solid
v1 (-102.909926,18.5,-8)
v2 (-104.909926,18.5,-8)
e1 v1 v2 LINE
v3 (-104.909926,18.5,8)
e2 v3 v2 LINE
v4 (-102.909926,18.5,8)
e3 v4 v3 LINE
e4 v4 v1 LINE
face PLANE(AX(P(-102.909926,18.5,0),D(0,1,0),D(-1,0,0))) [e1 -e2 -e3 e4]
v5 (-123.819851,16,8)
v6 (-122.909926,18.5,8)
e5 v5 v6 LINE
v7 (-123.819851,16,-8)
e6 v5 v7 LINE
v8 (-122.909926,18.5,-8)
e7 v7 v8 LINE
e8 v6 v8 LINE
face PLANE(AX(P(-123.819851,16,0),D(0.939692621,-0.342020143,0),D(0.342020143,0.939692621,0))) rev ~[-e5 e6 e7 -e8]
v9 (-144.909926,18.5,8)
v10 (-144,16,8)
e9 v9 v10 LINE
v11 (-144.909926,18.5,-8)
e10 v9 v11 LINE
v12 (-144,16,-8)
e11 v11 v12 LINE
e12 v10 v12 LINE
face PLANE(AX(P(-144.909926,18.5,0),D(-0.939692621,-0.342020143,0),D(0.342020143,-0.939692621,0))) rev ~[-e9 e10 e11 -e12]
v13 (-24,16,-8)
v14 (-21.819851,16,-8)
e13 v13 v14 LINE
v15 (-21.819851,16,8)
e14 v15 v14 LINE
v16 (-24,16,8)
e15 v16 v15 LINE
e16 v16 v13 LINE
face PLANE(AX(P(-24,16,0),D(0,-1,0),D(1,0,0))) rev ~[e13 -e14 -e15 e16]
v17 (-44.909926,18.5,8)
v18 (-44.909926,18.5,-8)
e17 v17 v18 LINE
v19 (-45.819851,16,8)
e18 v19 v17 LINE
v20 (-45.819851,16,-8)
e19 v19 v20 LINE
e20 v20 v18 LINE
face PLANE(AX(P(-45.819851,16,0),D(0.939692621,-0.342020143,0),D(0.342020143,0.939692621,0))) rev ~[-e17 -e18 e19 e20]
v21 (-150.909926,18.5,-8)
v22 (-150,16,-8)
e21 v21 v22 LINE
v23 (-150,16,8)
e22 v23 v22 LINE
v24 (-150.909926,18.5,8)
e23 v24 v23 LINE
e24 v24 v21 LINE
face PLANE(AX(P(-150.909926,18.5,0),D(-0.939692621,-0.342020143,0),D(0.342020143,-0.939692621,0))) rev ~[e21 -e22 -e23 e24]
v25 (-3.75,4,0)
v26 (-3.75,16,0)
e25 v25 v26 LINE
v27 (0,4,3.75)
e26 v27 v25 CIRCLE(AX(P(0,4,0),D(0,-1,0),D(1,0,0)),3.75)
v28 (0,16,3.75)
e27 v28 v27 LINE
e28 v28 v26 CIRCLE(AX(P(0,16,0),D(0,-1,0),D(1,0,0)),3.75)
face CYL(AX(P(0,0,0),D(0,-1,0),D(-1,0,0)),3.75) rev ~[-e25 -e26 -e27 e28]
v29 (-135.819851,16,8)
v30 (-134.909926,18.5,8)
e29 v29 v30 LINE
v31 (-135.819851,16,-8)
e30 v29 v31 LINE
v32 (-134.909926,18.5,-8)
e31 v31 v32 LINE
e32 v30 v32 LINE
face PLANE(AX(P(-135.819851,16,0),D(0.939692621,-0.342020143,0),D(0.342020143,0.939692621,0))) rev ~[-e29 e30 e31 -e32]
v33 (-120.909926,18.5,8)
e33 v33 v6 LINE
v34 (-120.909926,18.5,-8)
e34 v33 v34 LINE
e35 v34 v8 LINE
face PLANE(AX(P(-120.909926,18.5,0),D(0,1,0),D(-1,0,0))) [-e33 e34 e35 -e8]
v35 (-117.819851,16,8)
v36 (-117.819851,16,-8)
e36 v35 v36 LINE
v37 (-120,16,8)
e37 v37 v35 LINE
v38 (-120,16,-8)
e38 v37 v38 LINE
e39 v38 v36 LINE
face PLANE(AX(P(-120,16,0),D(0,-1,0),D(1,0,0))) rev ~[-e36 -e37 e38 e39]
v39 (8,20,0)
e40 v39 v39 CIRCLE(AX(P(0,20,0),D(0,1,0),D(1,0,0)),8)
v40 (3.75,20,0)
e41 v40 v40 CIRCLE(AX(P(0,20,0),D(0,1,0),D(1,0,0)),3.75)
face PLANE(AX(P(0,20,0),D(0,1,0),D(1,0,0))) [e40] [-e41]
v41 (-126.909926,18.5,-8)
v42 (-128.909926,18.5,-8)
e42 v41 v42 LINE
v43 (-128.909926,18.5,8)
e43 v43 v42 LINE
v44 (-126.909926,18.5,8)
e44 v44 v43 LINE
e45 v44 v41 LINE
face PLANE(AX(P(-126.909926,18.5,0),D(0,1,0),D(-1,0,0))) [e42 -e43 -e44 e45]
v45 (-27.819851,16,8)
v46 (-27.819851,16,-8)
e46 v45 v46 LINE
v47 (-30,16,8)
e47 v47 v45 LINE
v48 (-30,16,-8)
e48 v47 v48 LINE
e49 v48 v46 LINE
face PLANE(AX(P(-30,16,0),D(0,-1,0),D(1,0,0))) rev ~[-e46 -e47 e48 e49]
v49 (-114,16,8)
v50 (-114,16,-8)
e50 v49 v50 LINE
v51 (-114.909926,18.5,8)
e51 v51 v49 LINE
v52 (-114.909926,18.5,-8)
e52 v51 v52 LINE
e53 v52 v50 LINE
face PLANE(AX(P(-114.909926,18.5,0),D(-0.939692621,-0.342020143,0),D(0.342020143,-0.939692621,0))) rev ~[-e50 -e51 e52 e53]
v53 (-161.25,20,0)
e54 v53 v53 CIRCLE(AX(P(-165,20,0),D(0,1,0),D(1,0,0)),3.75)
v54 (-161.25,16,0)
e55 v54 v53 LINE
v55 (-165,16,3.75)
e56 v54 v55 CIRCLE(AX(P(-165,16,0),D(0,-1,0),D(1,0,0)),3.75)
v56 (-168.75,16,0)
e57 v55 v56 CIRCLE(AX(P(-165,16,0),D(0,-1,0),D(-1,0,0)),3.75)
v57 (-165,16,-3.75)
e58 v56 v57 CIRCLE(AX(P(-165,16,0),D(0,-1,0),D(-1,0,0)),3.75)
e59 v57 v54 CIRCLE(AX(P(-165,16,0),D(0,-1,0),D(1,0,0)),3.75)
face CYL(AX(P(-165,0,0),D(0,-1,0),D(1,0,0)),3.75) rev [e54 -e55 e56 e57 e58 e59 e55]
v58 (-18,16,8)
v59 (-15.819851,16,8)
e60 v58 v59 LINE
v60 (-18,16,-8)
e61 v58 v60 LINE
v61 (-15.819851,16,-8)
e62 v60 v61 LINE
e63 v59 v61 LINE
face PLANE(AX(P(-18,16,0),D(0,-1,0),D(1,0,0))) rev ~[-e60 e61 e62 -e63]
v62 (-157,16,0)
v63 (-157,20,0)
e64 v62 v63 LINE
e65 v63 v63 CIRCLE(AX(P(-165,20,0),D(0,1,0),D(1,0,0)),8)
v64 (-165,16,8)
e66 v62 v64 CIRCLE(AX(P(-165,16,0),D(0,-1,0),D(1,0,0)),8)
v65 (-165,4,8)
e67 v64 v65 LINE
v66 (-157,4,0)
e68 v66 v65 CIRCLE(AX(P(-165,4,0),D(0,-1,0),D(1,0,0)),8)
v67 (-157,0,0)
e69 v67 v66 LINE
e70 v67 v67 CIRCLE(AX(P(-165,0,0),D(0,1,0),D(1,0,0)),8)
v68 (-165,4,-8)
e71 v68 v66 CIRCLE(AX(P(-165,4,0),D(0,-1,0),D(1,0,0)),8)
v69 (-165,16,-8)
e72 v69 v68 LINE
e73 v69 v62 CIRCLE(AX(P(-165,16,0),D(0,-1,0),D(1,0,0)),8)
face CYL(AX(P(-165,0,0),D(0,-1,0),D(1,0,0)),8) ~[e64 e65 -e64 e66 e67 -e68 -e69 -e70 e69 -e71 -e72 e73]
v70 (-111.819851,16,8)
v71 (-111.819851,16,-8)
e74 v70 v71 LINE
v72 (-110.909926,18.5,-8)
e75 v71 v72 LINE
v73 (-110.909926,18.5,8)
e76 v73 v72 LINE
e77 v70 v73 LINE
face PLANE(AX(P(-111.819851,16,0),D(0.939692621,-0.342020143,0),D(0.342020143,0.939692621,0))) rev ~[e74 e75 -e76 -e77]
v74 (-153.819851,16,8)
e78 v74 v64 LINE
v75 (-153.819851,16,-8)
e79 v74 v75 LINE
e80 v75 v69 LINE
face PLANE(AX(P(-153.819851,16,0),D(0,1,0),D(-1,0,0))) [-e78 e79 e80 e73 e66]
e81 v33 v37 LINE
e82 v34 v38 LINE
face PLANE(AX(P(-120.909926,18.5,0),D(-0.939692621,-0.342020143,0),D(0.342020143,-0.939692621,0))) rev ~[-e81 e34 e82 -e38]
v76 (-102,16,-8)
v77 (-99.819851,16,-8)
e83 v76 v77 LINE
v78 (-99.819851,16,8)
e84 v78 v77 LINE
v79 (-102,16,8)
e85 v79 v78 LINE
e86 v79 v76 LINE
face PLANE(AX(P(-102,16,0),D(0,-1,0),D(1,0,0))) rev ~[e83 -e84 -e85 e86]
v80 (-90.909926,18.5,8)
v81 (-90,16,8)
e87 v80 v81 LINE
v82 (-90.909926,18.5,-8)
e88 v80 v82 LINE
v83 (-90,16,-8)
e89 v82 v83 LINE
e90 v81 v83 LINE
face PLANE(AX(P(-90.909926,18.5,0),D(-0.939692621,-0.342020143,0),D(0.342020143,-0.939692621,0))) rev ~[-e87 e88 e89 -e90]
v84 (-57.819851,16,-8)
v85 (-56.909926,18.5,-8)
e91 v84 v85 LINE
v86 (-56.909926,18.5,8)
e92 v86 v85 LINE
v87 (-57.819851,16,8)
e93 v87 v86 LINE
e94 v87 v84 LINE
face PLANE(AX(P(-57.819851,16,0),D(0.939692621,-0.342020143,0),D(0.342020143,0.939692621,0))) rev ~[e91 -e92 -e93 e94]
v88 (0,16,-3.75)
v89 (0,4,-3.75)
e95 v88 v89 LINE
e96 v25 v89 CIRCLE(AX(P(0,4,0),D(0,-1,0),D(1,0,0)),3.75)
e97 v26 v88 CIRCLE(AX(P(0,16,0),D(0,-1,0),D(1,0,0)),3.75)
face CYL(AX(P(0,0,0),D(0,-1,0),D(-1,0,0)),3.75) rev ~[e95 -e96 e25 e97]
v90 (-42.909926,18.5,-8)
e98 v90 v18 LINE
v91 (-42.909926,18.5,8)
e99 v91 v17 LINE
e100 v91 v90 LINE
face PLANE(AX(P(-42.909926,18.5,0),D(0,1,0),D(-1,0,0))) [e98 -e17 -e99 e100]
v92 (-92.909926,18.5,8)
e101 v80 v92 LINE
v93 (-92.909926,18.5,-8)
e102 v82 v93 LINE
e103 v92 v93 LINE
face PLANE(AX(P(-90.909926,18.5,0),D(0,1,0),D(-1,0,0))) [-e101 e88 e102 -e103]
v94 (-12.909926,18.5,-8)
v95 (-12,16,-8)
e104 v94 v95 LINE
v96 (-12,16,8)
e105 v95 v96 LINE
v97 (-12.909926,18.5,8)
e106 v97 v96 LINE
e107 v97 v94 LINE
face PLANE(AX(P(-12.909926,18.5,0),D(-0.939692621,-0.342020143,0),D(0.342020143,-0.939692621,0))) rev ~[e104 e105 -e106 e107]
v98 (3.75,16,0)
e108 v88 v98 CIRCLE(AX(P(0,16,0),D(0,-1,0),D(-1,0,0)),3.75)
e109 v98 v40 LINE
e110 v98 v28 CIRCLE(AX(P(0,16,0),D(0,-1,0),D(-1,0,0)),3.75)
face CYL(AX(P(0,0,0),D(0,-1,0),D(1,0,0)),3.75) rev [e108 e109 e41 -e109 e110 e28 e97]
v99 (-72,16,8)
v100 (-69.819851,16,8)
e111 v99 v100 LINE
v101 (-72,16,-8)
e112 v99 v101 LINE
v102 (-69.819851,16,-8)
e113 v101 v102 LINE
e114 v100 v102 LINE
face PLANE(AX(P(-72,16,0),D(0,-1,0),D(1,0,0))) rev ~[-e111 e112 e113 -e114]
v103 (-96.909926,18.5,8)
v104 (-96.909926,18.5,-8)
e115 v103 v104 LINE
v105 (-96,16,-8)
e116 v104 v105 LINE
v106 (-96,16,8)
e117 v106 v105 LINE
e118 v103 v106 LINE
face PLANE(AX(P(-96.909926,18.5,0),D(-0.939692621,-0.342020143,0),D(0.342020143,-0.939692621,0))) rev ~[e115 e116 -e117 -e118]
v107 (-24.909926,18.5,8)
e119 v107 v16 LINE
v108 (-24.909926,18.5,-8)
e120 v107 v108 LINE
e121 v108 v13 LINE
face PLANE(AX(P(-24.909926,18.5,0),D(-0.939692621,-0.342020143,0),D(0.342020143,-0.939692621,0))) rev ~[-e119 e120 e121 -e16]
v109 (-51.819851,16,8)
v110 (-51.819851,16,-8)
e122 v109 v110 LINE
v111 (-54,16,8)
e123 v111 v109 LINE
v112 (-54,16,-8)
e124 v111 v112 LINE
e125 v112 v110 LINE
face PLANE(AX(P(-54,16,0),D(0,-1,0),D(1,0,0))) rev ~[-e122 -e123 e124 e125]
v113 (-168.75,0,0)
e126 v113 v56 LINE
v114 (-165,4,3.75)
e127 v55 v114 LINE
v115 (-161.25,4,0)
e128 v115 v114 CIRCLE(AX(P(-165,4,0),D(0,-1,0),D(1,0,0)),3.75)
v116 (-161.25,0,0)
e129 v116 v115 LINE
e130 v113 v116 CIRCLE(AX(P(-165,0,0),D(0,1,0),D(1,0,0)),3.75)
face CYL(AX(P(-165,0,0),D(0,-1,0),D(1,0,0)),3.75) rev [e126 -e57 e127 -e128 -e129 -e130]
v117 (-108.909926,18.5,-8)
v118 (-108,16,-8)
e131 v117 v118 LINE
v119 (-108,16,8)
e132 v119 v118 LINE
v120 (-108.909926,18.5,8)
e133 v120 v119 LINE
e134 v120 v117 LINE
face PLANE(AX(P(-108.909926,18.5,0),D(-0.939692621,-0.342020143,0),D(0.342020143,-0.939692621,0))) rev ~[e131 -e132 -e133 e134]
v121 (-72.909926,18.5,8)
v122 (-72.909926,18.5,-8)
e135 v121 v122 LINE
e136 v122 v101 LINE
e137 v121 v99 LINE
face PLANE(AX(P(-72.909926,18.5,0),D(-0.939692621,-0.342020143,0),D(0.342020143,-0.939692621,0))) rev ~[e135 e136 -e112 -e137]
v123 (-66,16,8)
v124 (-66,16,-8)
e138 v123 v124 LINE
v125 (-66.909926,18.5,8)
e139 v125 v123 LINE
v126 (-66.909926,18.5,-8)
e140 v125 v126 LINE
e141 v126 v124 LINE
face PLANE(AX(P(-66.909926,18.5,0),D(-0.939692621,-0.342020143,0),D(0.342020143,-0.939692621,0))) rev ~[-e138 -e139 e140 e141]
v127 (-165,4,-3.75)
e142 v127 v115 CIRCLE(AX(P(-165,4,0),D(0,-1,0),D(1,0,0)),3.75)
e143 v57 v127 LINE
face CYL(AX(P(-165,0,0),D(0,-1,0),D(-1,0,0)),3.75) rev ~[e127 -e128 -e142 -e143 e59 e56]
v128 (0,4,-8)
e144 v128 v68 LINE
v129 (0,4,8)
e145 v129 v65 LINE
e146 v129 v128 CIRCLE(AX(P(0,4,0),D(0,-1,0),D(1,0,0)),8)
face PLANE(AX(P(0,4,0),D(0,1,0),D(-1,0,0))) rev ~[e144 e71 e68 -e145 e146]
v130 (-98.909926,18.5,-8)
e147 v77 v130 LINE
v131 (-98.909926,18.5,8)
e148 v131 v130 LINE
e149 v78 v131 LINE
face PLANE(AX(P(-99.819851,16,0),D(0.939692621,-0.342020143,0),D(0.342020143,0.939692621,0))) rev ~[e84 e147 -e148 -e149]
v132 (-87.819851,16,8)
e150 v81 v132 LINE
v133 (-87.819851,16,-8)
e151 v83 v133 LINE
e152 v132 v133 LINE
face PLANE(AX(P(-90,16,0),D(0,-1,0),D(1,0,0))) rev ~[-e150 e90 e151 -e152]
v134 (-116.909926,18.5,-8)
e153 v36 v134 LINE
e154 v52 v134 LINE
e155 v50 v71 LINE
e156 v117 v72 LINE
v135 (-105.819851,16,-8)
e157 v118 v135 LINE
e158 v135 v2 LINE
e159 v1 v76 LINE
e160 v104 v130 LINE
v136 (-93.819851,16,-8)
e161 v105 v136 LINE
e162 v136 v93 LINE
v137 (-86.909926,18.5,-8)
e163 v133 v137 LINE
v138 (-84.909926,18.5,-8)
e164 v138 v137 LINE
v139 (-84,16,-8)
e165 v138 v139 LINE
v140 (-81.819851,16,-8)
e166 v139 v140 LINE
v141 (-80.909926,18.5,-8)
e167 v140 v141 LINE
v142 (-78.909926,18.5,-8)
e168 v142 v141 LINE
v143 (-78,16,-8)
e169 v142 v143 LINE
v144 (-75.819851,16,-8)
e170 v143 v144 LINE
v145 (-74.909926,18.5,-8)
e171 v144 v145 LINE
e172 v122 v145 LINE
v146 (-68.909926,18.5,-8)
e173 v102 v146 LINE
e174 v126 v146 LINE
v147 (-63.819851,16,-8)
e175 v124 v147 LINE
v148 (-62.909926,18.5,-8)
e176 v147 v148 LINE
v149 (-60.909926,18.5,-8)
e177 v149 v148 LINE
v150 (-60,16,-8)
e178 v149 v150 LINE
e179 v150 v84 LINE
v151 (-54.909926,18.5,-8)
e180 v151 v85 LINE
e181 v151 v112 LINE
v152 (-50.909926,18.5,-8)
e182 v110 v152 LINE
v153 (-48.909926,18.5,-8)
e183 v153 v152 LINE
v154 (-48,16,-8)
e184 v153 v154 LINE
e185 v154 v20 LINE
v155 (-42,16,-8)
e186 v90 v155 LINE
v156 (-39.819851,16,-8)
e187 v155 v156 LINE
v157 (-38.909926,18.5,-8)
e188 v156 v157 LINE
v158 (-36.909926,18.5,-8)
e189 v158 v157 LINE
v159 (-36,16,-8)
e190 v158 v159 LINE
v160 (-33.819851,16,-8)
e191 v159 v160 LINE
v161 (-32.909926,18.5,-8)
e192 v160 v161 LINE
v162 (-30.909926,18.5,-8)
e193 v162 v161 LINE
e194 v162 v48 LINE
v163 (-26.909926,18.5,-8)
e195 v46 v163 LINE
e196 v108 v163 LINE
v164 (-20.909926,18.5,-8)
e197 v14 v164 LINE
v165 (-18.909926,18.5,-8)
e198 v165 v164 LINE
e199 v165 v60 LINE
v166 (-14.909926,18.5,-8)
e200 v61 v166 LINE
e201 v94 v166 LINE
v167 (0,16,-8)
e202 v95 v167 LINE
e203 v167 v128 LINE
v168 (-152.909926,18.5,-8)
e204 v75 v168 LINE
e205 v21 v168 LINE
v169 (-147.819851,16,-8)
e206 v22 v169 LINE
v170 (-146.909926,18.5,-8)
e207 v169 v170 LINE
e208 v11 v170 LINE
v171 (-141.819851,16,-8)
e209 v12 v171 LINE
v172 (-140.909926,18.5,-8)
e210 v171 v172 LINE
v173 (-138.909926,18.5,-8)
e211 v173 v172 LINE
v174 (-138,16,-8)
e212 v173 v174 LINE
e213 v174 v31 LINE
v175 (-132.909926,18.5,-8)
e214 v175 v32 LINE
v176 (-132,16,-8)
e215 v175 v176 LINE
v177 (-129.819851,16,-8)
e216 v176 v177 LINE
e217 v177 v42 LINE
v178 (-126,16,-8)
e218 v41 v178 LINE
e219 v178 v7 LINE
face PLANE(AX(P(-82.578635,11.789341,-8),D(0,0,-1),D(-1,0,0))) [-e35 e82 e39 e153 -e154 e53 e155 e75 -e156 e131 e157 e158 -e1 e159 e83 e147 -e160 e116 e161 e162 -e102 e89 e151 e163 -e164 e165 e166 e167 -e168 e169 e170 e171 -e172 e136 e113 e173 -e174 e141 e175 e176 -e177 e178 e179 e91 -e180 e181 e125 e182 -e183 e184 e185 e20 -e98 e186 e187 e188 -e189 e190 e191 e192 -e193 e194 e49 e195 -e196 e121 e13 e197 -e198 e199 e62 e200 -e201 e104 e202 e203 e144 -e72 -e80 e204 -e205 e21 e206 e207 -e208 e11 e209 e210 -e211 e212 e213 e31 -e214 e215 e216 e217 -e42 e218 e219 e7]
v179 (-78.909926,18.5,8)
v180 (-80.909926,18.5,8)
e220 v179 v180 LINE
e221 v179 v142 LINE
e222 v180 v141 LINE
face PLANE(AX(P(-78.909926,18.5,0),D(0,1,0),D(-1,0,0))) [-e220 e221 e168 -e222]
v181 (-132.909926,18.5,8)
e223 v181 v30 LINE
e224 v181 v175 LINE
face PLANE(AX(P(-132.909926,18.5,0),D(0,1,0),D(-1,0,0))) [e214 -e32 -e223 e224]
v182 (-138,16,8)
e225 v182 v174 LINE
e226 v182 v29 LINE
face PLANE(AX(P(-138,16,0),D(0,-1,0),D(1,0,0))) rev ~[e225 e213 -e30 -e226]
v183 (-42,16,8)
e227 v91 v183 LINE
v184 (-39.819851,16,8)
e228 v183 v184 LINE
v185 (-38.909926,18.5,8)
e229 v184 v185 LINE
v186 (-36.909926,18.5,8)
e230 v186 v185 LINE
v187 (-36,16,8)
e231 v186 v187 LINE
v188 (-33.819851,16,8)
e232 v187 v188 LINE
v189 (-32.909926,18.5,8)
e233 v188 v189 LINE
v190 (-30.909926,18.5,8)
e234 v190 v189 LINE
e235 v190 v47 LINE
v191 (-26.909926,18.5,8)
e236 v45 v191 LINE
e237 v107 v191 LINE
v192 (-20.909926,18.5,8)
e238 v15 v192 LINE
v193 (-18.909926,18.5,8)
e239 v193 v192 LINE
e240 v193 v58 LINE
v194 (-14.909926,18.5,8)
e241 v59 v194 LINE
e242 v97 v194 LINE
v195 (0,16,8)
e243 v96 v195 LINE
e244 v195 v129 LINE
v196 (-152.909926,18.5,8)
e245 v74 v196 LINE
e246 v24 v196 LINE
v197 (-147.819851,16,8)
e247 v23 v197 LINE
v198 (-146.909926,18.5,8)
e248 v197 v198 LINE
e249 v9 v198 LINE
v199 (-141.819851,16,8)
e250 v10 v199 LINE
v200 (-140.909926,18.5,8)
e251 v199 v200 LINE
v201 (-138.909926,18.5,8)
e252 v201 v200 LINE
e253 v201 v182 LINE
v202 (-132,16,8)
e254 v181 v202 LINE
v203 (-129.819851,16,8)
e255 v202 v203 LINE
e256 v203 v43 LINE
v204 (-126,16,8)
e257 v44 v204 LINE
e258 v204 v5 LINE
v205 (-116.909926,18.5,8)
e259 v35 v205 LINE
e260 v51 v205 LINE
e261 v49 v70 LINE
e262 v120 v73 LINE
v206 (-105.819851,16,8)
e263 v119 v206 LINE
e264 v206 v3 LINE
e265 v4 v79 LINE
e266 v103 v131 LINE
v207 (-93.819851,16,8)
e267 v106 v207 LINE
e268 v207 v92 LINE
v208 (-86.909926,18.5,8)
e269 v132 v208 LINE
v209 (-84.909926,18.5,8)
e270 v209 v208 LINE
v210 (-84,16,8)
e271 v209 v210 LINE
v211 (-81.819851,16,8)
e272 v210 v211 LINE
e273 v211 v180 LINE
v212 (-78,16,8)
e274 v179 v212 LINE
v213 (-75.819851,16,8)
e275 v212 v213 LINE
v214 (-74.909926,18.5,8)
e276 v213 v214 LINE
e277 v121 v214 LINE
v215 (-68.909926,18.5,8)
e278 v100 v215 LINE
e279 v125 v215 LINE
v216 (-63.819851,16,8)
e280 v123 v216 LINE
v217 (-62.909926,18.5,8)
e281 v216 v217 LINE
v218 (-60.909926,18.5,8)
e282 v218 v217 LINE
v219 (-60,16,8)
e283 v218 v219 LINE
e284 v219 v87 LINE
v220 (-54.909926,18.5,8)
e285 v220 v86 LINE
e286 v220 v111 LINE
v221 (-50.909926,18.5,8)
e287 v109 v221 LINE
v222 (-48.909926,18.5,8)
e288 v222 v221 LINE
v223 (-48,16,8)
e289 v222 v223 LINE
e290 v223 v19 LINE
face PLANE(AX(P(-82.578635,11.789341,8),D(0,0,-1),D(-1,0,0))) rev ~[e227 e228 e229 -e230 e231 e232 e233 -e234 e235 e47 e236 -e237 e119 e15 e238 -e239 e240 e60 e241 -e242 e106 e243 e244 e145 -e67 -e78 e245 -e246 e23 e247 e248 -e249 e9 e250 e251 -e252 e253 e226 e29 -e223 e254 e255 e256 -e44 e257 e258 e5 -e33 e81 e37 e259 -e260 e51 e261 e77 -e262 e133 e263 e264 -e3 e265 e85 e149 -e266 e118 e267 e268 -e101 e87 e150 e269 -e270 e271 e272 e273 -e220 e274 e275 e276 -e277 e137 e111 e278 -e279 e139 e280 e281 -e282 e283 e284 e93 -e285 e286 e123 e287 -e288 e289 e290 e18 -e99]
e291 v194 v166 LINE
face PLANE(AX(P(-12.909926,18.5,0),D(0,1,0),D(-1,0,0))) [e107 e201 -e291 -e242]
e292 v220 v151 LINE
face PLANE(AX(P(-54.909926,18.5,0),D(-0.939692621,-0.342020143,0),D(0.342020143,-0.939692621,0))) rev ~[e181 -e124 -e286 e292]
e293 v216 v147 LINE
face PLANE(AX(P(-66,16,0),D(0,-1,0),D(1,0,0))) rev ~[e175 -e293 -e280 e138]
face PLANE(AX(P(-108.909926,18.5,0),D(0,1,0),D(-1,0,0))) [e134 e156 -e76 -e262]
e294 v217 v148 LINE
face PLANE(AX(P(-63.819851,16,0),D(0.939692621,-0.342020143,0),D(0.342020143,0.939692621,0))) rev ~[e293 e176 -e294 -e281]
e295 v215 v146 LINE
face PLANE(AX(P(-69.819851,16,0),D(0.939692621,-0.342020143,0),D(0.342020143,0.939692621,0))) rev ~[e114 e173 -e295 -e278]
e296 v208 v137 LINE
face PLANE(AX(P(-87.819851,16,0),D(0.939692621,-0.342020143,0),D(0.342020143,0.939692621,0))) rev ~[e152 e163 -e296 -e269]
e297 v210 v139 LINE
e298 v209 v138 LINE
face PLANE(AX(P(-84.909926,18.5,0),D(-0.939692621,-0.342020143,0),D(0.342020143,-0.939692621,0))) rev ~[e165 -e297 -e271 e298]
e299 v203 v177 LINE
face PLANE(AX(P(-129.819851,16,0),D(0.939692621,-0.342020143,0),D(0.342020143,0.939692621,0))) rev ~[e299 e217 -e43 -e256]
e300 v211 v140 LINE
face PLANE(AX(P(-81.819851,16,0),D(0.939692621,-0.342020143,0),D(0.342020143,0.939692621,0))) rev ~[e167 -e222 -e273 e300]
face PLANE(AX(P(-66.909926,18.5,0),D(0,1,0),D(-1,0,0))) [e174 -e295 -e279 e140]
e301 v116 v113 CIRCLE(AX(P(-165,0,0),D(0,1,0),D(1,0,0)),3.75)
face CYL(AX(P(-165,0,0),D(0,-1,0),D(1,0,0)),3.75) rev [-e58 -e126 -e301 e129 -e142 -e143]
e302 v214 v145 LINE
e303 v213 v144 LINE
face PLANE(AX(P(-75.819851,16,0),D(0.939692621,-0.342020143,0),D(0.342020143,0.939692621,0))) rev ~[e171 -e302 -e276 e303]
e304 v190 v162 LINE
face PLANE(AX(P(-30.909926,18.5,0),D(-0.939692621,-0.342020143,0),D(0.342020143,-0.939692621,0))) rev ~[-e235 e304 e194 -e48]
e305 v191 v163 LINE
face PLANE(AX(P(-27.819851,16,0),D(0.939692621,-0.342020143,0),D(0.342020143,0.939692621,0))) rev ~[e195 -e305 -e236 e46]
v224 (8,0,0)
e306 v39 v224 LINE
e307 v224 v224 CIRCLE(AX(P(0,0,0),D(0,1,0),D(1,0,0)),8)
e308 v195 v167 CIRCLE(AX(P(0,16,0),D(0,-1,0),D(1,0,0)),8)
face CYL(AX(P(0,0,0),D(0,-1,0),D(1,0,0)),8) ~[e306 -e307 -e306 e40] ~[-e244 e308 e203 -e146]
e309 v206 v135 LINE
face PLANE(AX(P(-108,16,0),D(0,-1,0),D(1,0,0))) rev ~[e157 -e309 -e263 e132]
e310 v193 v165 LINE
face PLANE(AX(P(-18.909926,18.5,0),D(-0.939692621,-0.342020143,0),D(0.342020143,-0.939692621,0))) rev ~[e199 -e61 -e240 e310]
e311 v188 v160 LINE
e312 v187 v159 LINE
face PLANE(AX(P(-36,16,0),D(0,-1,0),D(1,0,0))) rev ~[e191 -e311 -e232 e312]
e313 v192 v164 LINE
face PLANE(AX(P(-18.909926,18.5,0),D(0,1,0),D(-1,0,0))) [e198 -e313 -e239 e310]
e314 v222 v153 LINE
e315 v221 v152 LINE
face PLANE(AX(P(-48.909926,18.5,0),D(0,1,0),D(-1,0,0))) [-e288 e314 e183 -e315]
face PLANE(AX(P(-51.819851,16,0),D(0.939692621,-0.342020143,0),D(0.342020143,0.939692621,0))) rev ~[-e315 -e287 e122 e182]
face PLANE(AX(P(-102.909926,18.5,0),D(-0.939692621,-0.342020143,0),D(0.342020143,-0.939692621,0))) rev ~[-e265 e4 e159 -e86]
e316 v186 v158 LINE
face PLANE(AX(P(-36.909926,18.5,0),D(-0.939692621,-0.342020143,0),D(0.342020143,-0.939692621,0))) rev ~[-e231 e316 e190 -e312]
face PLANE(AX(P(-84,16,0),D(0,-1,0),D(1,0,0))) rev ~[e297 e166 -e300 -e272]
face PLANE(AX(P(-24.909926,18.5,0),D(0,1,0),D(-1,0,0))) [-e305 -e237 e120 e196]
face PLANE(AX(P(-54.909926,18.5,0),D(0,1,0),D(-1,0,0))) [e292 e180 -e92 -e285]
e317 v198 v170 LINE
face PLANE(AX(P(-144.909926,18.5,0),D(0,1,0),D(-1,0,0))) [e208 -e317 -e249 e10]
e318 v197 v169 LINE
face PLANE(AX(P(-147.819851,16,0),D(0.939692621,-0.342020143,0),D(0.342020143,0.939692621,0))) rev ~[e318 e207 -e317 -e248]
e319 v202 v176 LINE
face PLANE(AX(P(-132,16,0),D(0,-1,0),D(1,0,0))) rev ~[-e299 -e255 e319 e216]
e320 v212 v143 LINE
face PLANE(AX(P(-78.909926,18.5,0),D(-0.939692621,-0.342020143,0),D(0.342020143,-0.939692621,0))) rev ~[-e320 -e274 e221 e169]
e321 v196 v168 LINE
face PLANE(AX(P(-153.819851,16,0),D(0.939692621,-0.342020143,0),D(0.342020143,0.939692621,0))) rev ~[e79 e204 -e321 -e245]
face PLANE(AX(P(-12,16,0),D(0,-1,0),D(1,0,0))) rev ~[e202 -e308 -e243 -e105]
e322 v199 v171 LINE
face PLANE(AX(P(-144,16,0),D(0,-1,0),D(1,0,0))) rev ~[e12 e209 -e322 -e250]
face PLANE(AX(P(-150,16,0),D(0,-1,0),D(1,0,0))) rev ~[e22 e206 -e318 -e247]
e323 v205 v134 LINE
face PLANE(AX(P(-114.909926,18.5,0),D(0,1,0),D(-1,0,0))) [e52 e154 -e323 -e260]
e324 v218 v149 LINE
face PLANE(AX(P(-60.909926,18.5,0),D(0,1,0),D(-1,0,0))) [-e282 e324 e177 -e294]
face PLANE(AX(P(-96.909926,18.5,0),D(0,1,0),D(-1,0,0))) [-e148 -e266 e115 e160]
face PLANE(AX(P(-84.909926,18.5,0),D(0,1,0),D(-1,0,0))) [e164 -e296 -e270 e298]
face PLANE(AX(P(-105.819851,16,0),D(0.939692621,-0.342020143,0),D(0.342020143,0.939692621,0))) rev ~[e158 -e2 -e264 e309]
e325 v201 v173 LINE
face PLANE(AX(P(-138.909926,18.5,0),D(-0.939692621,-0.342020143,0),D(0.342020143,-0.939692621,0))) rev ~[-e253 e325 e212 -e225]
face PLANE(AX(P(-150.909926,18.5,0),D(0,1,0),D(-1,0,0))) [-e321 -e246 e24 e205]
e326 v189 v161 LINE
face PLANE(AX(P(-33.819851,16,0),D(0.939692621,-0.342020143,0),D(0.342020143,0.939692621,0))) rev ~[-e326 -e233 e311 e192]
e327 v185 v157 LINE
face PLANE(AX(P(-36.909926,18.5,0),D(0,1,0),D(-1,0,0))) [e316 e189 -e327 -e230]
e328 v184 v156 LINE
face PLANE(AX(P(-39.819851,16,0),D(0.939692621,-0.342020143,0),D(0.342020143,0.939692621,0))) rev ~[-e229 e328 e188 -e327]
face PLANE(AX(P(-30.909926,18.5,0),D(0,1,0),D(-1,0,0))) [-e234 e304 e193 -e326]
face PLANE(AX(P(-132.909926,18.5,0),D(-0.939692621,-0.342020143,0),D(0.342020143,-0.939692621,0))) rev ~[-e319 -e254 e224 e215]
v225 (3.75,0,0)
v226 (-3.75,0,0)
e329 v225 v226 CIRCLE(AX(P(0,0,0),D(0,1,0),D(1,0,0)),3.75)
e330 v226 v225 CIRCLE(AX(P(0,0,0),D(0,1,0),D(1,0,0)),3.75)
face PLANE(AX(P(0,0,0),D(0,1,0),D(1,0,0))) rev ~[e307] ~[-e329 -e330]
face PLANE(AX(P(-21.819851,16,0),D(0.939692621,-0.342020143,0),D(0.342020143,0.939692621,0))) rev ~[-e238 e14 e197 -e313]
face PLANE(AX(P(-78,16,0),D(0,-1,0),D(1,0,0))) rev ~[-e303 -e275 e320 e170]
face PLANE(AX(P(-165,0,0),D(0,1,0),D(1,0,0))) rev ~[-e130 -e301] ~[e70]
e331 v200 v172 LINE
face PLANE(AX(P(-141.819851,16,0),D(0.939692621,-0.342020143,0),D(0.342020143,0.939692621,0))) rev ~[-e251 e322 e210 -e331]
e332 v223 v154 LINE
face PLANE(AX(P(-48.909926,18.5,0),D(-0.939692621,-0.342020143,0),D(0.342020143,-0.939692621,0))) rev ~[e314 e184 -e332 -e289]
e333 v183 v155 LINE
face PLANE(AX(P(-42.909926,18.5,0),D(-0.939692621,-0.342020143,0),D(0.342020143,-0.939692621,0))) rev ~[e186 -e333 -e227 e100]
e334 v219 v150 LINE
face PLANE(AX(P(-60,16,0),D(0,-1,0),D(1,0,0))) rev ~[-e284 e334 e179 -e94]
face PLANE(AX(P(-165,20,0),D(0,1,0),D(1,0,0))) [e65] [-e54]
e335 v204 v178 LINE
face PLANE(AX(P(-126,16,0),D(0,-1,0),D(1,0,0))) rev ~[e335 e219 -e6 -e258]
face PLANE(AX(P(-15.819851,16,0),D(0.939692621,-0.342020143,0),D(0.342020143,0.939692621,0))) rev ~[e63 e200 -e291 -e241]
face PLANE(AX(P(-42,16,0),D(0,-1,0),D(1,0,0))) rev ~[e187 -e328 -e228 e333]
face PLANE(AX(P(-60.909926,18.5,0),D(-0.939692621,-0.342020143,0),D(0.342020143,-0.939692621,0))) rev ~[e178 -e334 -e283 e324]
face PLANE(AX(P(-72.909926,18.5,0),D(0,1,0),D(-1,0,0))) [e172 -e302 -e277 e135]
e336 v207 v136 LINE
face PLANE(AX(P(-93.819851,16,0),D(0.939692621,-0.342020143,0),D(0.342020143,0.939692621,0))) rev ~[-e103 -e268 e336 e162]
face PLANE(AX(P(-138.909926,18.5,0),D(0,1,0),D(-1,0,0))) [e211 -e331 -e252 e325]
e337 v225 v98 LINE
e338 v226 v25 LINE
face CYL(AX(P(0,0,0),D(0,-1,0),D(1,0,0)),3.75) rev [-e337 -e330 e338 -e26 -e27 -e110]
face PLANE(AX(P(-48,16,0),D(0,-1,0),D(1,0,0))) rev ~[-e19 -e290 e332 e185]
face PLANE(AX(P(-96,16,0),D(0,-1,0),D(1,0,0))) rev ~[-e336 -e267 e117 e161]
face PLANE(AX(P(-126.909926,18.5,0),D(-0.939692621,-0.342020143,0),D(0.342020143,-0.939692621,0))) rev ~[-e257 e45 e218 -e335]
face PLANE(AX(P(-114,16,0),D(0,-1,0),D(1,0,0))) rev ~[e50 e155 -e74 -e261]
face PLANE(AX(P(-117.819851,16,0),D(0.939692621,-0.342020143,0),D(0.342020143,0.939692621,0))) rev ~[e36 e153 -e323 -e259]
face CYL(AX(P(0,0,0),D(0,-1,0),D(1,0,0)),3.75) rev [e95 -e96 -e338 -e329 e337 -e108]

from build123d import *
from build123d.topology import SkipClean

# Parameters (mm, degrees)
SKETCH1_R             = 8
SKETCH1_R_2           = 3.75
BOSS_EXTRUDE1_DEPTH   = 20
BOSS_EXTRUDE1_2_DEPTH = 20
BOSS_EXTRUDE2_DEPTH   = 8
SKETCH1_4_R           = 8
SKETCH1_4_R_2         = 3.75
BOSS_EXTRUDE3_DEPTH   = 16
SKETCH3_R             = 3.75
CUT_EXTRUDE2_DEPTH    = 16
SKETCH4_R             = 3.75
CUT_EXTRUDE3_DEPTH    = 16


with BuildPart() as part:
    # Sketch1 → Boss-Extrude1 (new body)
    with BuildSketch(Plane(origin=(0, 0, 0), x_dir=(1, 0, 0), z_dir=(0, 1, 0))):
        Circle(SKETCH1_R)
        Circle(SKETCH1_R_2, mode=Mode.SUBTRACT)
    extrude(amount=BOSS_EXTRUDE1_DEPTH)



with BuildPart() as body_2:
    # Sketch1 → Boss-Extrude1 2 (new body)
    with BuildSketch(Plane(origin=(0, 0, 0), x_dir=(1, 0, 0), z_dir=(0, 1, 0))):
        with Locations((-165, 0)):
            Circle(SKETCH1_R)
        with Locations((-165, 0)):
            Circle(SKETCH1_R_2, mode=Mode.SUBTRACT)
    extrude(amount=BOSS_EXTRUDE1_2_DEPTH)


with BuildPart() as part_1:
    add(part.part)

    add(body_2.part)  # Boss-Extrude2 merges body 2
    # Sketch2 → Boss-Extrude2 (add, symmetric)
    with BuildSketch(Plane.XY):
        Polygon((0, 4), (-165, 4), (-165, 11.640611033), (-165, 16), (-157, 16), (-153.819851171, 16), (-152.909925586, 18.5), (-151.909925586, 18.5), (-150.909925586, 18.5), (-150, 16), (-147.819851171, 16), (-146.909925586, 18.5), (-145.909925586, 18.5), (-144.909925586, 18.5), (-144, 16), (-141.819851171, 16), (-140.909925586, 18.5), (-139.909925586, 18.5), (-138.909925586, 18.5), (-138, 16), (-135.819851171, 16), (-134.909925586, 18.5), (-133.909925586, 18.5), (-132.909925586, 18.5), (-132, 16), (-129.819851171, 16), (-128.909925586, 18.5), (-127.909925586, 18.5), (-126.909925586, 18.5), (-126, 16), (-123.819851171, 16), (-122.909925586, 18.5), (-121.909925586, 18.5), (-120.909925586, 18.5), (-120, 16), (-117.819851171, 16), (-116.909925586, 18.5), (-115.909925586, 18.5), (-114.909925586, 18.5), (-114, 16), (-111.819851171, 16), (-110.909925586, 18.5), (-109.909925586, 18.5), (-108.909925586, 18.5), (-108, 16), (-105.819851171, 16), (-104.909925586, 18.5), (-103.909925586, 18.5), (-102.909925586, 18.5), (-102, 16), (-99.819851171, 16), (-98.909925586, 18.5), (-97.909925586, 18.5), (-96.909925586, 18.5), (-96, 16), (-93.819851171, 16), (-92.909925586, 18.5), (-91.909925586, 18.5), (-90.909925586, 18.5), (-90, 16), (-87.819851171, 16), (-86.909925586, 18.5), (-85.909925586, 18.5), (-84.909925586, 18.5), (-84, 16), (-81.819851171, 16), (-80.909925586, 18.5), (-79.909925586, 18.5), (-78.909925586, 18.5), (-78, 16), (-75.819851171, 16), (-74.909925586, 18.5), (-73.909925586, 18.5), (-72.909925586, 18.5), (-72, 16), (-69.819851171, 16), (-68.909925586, 18.5), (-67.909925586, 18.5), (-66.909925586, 18.5), (-66, 16), (-63.819851171, 16), (-62.909925586, 18.5), (-61.909925586, 18.5), (-60.909925586, 18.5), (-60, 16), (-57.819851171, 16), (-56.909925586, 18.5), (-55.909925586, 18.5), (-54.909925586, 18.5), (-54, 16), (-51.819851171, 16), (-50.909925586, 18.5), (-49.909925586, 18.5), (-48.909925586, 18.5), (-48, 16), (-45.819851171, 16), (-44.909925586, 18.5), (-43.909925586, 18.5), (-42.909925586, 18.5), (-42, 16), (-39.819851171, 16), (-38.909925586, 18.5), (-37.909925586, 18.5), (-36.909925586, 18.5), (-36, 16), (-33.819851171, 16), (-32.909925586, 18.5), (-31.909925586, 18.5), (-30.909925586, 18.5), (-30, 16), (-27.819851171, 16), (-26.909925586, 18.5), (-25.909925586, 18.5), (-24.909925586, 18.5), (-24, 16), (-21.819851171, 16), (-20.909925586, 18.5), (-19.909925586, 18.5), (-18.909925586, 18.5), (-18, 16), (-15.819851171, 16), (-14.909925586, 18.5), (-13.909925586, 18.5), (-12.909925586, 18.5), (-12, 16), (0, 16), align=None)
    extrude(amount=BOSS_EXTRUDE2_DEPTH, both=True)

    # Sketch1<4> → Boss-Extrude3 (add)
    # profile 1 of 2: a face of its own
    with BuildSketch(Plane(origin=(0, 0, 0), x_dir=(1, 0, 0), z_dir=(0, 1, 0))):
        Circle(SKETCH1_4_R)
        Circle(SKETCH1_4_R_2, mode=Mode.SUBTRACT)
    # profile 2 of 2: a face of its own
    with BuildSketch(Plane(origin=(0, 0, 0), x_dir=(1, 0, 0), z_dir=(0, 1, 0))):
        with Locations((-165, 0)):
            Circle(SKETCH1_4_R)
        with Locations((-165, 0)):
            Circle(SKETCH1_4_R_2, mode=Mode.SUBTRACT)
    extrude(amount=BOSS_EXTRUDE3_DEPTH)

    # Sketch3 → Cut-Extrude2 (cut)
    with SkipClean():  # the faces are left unmerged after this step: merging them gives an invalid solid
        with BuildSketch(Plane(origin=(0, 0, 0), x_dir=(-1, 0, 0), z_dir=(0, -1, 0))):
            with Locations((165, 0)):
                Circle(SKETCH3_R)
        extrude(amount=-CUT_EXTRUDE2_DEPTH, mode=Mode.SUBTRACT)

    # Sketch4 → Cut-Extrude3 (cut)
    with SkipClean():  # the faces are left unmerged after this step: merging them gives an invalid solid
        with BuildSketch(Plane(origin=(0, 0, 0), x_dir=(-1, 0, 0), z_dir=(0, -1, 0))):
            Circle(SKETCH4_R)
        extrude(amount=-CUT_EXTRUDE3_DEPTH, mode=Mode.SUBTRACT)


solid = part_1.part
